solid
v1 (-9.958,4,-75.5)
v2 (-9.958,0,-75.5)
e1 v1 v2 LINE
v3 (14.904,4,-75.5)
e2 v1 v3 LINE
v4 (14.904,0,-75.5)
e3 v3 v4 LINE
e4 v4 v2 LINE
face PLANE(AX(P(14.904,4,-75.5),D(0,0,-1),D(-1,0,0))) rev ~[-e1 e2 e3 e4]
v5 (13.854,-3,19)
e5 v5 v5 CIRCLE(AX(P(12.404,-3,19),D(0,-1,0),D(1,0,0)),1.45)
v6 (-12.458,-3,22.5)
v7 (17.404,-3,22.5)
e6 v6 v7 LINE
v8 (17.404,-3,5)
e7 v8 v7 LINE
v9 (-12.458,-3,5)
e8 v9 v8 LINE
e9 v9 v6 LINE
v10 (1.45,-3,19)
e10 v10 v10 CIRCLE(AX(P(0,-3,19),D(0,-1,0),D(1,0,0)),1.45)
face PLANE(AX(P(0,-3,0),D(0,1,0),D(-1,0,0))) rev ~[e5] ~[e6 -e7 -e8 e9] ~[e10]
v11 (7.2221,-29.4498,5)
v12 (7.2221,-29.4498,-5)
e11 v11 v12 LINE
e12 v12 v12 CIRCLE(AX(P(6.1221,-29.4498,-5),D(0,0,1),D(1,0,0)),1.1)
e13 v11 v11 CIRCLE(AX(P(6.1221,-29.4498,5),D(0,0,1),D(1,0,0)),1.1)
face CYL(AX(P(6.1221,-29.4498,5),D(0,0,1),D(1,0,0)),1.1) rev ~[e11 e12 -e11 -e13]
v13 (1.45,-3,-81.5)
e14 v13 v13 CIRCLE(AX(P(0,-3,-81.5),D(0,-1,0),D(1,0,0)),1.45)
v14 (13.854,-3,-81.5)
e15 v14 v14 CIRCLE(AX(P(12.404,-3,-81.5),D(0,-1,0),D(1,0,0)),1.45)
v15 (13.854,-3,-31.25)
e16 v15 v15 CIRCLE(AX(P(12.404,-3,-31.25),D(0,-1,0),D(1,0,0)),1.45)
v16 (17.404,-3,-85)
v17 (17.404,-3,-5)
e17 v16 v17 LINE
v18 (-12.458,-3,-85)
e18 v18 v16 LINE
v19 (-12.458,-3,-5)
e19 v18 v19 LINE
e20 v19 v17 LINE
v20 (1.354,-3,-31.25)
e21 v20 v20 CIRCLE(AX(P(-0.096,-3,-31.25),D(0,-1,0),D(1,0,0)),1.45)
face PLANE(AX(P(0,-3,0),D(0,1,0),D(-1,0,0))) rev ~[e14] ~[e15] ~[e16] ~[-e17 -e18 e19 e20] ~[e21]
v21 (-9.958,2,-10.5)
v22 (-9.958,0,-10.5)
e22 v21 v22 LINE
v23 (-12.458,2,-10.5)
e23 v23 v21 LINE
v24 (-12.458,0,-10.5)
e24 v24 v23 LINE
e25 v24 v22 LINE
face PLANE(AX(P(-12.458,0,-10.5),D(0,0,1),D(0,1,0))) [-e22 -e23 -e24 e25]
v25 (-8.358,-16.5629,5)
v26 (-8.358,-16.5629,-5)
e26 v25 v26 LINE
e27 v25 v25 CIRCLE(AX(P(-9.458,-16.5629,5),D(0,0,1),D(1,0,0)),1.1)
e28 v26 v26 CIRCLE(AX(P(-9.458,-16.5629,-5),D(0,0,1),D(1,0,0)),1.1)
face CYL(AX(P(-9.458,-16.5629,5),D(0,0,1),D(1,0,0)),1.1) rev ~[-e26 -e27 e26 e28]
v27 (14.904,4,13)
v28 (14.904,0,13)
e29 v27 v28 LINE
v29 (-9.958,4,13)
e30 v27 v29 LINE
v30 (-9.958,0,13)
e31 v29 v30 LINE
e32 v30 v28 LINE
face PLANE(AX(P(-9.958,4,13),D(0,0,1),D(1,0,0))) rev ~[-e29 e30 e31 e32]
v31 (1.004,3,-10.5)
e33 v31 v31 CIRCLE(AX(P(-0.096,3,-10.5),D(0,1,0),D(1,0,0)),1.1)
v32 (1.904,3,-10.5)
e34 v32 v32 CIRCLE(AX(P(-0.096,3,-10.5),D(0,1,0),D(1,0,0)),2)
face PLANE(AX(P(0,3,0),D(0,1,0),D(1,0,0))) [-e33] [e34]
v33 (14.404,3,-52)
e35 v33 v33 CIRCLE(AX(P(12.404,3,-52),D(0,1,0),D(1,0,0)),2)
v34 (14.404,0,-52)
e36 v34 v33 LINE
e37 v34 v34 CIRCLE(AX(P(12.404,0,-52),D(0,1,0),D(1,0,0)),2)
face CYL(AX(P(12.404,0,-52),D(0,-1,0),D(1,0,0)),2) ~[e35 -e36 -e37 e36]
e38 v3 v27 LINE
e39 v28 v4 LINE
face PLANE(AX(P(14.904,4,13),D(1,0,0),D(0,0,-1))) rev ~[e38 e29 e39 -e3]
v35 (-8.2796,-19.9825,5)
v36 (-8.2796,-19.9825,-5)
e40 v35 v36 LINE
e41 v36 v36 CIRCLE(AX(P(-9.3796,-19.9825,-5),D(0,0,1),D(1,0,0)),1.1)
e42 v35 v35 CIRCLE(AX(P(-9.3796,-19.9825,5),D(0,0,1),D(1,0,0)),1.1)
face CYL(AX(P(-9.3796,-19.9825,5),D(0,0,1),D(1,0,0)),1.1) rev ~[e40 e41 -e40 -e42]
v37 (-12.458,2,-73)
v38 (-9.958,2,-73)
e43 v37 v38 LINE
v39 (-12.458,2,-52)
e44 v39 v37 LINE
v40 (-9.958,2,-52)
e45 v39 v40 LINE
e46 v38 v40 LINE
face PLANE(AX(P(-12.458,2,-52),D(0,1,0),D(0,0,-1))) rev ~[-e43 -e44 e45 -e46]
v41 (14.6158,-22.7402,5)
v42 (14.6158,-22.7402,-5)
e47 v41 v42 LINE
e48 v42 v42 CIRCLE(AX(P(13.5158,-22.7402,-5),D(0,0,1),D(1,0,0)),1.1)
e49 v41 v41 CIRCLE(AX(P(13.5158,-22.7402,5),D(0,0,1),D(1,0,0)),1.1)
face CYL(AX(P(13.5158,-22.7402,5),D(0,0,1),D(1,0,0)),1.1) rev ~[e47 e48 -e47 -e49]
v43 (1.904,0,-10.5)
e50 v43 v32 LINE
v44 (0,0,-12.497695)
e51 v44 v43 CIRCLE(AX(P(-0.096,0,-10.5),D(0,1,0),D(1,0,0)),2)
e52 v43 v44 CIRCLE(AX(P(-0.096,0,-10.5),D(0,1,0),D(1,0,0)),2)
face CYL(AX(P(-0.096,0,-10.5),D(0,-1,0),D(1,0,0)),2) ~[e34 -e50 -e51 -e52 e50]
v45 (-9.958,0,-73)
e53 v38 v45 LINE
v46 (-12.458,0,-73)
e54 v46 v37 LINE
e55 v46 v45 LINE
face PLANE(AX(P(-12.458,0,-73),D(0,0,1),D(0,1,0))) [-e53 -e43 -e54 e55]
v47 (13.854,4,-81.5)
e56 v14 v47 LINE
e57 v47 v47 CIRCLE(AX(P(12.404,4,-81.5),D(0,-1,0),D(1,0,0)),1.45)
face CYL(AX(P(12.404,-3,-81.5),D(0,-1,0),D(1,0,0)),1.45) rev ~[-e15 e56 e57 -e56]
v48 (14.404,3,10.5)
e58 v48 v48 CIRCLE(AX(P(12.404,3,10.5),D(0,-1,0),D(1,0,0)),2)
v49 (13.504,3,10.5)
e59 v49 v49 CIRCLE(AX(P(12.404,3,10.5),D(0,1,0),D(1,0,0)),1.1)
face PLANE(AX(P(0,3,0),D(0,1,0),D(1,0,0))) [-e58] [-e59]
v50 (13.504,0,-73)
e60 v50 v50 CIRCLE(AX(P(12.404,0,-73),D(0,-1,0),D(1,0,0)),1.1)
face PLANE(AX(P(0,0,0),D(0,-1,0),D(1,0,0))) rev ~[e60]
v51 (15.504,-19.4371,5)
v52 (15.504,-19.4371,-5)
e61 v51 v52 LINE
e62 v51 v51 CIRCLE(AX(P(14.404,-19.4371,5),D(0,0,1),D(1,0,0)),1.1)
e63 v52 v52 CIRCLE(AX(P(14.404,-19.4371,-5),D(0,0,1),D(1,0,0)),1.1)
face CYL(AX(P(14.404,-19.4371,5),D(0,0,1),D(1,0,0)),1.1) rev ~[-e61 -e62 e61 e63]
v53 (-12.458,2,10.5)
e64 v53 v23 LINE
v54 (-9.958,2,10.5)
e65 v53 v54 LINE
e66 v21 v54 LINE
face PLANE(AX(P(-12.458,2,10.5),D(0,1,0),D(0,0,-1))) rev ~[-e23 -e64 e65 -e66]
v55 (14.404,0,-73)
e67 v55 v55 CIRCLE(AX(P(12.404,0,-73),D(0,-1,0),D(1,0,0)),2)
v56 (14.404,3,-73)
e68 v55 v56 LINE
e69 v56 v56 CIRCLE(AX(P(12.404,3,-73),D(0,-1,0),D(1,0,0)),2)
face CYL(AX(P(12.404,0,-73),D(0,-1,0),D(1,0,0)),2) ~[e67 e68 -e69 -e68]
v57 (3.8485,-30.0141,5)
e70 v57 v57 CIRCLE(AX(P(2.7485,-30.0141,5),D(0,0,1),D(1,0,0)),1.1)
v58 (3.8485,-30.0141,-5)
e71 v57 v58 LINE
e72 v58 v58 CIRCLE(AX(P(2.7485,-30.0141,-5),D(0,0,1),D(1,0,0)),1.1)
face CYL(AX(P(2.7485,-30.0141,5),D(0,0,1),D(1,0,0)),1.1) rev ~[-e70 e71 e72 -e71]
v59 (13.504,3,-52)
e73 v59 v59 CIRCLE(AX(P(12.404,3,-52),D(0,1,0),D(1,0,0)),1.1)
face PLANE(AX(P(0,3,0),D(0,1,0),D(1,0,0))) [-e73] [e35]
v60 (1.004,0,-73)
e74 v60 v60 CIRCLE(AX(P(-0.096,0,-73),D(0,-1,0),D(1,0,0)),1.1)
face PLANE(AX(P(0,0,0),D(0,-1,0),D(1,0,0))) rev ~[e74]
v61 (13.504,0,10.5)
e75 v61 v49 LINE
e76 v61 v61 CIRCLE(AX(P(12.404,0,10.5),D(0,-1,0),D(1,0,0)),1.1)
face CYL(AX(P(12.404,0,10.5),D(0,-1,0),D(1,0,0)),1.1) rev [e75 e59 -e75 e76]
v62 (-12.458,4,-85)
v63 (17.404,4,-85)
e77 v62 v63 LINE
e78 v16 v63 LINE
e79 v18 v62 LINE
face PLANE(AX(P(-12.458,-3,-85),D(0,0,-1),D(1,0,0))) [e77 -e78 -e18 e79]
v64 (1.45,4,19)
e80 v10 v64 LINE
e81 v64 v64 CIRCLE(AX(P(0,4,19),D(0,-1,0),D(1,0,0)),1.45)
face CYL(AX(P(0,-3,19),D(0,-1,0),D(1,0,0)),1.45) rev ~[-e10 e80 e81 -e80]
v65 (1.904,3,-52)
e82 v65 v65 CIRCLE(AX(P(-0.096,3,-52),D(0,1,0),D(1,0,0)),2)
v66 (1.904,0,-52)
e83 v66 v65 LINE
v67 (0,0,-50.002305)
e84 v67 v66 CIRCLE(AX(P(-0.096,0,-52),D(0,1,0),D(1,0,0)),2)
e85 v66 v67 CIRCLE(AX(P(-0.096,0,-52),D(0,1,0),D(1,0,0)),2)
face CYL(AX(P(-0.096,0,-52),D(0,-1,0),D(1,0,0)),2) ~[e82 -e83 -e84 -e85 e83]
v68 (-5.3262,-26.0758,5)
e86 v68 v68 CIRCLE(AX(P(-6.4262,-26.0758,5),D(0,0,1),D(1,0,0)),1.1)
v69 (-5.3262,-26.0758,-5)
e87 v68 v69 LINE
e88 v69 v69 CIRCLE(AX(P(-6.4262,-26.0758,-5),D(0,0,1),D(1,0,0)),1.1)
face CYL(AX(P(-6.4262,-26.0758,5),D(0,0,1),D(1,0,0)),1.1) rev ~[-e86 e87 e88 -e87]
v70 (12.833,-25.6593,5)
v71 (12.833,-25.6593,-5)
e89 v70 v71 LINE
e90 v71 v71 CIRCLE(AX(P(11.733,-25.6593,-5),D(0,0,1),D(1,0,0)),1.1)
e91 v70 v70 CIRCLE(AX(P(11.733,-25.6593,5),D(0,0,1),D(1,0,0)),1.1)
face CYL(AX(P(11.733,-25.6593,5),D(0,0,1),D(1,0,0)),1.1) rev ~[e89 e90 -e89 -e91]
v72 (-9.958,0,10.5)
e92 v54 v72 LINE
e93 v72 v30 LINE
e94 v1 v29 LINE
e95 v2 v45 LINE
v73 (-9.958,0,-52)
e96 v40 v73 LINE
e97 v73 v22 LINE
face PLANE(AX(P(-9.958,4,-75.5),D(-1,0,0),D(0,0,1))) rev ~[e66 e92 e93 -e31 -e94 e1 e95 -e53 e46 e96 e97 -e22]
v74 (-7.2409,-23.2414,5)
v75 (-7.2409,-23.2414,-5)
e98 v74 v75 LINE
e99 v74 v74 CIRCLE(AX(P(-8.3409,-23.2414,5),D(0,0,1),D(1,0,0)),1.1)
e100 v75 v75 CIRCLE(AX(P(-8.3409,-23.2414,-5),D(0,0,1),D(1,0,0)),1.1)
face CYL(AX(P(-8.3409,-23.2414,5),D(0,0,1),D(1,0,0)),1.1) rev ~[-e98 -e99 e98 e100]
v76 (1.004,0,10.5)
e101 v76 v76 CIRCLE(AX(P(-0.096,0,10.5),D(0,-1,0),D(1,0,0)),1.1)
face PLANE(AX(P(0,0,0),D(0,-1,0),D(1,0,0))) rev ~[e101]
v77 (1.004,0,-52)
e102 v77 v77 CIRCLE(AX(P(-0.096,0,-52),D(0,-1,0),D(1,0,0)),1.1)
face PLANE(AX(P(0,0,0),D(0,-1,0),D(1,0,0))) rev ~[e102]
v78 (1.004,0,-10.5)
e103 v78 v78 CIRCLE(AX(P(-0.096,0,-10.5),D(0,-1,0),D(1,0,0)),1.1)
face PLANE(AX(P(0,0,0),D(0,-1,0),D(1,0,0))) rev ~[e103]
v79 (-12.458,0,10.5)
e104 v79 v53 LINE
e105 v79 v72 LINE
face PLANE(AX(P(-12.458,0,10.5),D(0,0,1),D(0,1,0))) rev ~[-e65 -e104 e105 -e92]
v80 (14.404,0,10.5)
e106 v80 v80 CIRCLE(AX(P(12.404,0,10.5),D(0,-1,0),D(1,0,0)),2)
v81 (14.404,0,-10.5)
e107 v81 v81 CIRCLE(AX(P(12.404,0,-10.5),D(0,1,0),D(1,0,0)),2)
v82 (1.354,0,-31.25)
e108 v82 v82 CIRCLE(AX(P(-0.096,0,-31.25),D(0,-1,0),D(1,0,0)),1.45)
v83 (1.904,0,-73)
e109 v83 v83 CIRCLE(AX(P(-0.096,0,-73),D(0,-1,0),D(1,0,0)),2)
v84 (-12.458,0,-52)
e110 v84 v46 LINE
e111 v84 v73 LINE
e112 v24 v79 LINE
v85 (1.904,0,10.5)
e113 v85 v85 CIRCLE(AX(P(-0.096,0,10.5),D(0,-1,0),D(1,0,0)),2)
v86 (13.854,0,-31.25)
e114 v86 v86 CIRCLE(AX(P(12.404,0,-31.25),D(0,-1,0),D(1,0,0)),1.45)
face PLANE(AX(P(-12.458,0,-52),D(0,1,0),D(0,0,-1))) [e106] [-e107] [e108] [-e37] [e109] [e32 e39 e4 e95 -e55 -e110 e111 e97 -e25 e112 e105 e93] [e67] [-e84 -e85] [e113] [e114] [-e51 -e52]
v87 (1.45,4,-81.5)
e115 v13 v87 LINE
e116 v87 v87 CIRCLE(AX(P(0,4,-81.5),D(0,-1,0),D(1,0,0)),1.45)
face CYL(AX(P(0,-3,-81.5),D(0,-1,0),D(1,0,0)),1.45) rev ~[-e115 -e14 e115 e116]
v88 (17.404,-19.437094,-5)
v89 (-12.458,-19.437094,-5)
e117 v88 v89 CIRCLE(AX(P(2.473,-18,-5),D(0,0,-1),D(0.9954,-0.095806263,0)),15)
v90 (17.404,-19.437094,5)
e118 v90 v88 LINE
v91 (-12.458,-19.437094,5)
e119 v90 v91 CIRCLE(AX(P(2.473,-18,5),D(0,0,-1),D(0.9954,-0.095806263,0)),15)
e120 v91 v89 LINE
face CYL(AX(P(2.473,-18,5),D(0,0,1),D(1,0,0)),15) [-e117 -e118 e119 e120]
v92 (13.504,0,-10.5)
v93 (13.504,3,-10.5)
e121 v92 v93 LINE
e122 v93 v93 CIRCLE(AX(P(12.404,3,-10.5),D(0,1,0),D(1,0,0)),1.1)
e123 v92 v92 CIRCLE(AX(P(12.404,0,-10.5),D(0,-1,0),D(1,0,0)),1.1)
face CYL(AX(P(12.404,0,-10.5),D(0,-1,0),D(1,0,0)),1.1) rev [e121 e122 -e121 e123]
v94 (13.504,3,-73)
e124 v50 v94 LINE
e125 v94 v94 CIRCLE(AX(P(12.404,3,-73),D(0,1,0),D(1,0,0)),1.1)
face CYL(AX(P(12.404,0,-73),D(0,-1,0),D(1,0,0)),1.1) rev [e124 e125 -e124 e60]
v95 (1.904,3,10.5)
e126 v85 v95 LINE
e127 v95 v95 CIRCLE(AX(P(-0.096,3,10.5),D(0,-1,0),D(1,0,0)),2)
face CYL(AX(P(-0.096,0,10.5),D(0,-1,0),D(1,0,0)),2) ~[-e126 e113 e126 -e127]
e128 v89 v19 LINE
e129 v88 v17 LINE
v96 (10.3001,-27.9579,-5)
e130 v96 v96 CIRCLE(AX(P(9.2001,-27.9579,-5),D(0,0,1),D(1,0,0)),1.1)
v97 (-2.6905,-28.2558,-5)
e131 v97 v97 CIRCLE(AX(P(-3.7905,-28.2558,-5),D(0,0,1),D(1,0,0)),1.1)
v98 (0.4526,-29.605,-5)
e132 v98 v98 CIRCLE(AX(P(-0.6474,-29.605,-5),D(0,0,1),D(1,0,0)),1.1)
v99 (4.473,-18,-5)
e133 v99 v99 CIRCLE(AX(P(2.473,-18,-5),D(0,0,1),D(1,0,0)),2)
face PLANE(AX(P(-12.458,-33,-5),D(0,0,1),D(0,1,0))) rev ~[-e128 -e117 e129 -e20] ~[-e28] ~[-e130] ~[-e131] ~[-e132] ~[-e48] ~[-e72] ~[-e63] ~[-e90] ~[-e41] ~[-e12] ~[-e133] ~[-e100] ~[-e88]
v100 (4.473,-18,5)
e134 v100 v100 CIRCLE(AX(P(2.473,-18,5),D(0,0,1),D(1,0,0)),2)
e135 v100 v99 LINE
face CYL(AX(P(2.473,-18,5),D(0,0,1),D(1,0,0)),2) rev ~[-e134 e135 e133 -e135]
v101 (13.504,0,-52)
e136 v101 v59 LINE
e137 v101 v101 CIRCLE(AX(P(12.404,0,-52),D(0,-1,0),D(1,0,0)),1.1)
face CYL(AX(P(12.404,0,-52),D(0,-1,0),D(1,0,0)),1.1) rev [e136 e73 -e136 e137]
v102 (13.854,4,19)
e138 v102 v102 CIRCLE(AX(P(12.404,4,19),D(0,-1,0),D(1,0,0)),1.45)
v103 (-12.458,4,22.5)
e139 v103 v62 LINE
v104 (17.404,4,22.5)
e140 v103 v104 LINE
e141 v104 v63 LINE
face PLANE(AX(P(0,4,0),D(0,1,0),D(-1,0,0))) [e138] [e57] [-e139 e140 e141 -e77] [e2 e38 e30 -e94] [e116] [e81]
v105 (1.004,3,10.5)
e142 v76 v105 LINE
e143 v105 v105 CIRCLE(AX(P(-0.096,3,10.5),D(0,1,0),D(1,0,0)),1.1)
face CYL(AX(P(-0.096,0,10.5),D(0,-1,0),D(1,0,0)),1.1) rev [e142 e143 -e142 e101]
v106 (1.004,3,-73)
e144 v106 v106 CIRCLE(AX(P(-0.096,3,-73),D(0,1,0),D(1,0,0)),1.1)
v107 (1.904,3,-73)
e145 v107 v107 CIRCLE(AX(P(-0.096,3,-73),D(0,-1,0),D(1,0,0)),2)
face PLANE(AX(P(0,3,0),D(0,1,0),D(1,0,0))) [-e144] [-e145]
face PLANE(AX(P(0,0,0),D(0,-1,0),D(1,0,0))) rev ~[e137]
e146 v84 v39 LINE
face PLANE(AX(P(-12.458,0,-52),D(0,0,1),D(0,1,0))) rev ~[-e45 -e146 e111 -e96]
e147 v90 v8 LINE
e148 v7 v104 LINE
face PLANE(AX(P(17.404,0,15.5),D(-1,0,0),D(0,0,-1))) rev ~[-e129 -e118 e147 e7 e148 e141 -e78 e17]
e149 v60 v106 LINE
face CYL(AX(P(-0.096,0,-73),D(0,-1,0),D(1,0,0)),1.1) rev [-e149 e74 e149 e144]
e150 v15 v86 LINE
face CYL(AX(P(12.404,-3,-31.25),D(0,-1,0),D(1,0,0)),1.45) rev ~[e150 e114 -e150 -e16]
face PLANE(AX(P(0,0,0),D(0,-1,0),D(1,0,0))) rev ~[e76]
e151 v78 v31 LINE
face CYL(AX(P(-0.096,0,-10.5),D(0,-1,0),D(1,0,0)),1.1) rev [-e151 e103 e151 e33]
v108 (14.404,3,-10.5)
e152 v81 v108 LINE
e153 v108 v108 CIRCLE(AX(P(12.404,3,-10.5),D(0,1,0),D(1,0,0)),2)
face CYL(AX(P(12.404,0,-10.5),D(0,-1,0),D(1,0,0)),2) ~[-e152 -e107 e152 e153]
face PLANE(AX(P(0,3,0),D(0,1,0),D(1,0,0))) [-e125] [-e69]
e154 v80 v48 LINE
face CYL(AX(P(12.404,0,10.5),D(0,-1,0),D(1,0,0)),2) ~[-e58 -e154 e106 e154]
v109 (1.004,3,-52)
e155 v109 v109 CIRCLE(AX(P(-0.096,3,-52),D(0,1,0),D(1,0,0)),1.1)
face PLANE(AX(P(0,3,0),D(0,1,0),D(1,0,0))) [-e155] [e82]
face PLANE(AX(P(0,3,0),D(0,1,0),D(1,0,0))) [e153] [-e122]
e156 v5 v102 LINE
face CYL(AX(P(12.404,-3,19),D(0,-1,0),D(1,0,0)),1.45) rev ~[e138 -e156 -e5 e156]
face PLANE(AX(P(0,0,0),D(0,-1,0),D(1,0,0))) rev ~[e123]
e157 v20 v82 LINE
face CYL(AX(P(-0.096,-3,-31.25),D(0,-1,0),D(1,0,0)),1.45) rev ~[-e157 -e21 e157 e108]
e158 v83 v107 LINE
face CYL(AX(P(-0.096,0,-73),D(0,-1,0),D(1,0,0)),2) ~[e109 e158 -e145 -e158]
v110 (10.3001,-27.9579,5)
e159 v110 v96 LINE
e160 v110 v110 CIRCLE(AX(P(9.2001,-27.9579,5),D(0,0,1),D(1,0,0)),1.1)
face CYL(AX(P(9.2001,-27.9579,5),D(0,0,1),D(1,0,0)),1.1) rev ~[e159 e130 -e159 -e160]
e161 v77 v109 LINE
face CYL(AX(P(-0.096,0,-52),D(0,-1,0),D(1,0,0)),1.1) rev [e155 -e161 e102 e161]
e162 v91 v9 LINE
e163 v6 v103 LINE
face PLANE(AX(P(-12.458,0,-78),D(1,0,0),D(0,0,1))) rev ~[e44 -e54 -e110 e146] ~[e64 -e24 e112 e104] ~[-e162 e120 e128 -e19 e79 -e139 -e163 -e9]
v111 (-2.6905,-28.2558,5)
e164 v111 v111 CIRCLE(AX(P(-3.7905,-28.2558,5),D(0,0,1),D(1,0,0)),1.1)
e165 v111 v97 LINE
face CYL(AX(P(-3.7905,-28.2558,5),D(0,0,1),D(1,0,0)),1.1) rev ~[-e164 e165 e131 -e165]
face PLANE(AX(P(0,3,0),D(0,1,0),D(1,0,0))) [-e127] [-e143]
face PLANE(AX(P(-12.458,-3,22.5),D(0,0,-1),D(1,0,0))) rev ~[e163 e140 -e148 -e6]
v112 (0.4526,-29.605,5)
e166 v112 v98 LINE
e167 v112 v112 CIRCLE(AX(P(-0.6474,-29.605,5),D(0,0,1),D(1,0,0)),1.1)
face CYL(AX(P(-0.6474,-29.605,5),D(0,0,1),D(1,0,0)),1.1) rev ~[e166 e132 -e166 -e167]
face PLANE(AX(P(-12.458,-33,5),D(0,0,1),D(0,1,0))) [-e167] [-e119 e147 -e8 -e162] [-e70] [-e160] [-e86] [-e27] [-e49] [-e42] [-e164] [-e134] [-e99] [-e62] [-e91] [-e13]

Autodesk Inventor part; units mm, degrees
ref_plane "YZ Plane" through (0, 0, 0) normal (1, 0, 0) x (0, 1, 0)
ref_plane "XZ Plane" through (0, 0, 0) normal (0, 1, 0) x (-1, 0, 0)
ref_plane "XY Plane" through (0, 0, 0) normal (0, 0, 1) x (1, 0, 0)
sketch "Sketch1" plane through (0, 0, 0) normal (0, 1, 0) x (-1, 0, 0)
  line L0 (0, 0) -> (0, -62.5)
  line L1 (9.458, 0) -> (9.458, 12.5)
  line L2 (9.458, 12.5) -> (9.458, -12.5)
  line L3 (9.458, 12.5) -> (-14.404, 12.5)
  line L4 (-14.404, 12.5) -> (-14.404, -12.5)
  line L5 (-14.404, -12.5) -> (9.458, -12.5)
  line L6 (-14.404, 12.5) -> (-12.404, 12.5)
  line L7 (-14.404, -12.5) -> (-12.404, -12.5)
  circle A0 centre (0.096, 10.5) radius 1.1
  circle A1 centre (-12.404, 10.5) radius 1.1
  circle A2 centre (-12.404, -10.5) radius 1.1
  circle A3 centre (0.096, -10.5) radius 1.1
  line L8 (9.458, -62.5) -> (9.458, -50)
  line L9 (9.458, -50) -> (9.458, -75)
  line L10 (9.458, -50) -> (-14.404, -50)
  line L11 (-14.404, -50) -> (-14.404, -75)
  line L12 (-14.404, -75) -> (9.458, -75)
  line L13 (-14.404, -50) -> (-12.404, -50)
  line L14 (-14.404, -75) -> (-12.404, -75)
  circle A4 centre (0.096, -52) radius 1.1
  circle A5 centre (-12.404, -52) radius 1.1
  circle A6 centre (-12.404, -73) radius 1.1
  circle A7 centre (0.096, -73) radius 1.1
  line L15 (12.458, 15.5) -> (-17.404, 15.5)
  line L16 (-17.404, 15.5) -> (-17.404, -78)
  line L17 (-17.404, -78) -> (12.458, -78)
  line L18 (12.458, -78) -> (12.458, 15.5)
  line L19 (-14.404, -12.5) -> (-14.404, -50)
  line L20 (9.458, -50) -> (9.458, -12.5)
extrude "Extrusion1" add sketch "Sketch1" against normal blind 3 contours L5 L4 L3 L1 L2 | L5 L20 L10 L0 | L0 L10 L19 L5 | L10 L8 L9 L12 L11 | L18 L17 L16 L15
sketch "Sketch2" plane through (0, 0, 0) normal (0, 1, 0) x (1, 0, 0)
  circle A0 centre (-0.096, -10.5) radius 1.1 projected
  circle A1 centre (-0.096, -10.5) radius 2
  circle A2 centre (12.404, -10.5) radius 1.1 projected
  circle A3 centre (12.404, -10.5) radius 2
  circle A4 centre (12.404, 10.5) radius 1.1 projected
  circle A5 centre (12.404, 10.5) radius 2
  circle A6 centre (-0.096, 10.5) radius 2
  circle A7 centre (-0.096, 52) radius 1.1 projected
  circle A8 centre (-0.096, 52) radius 2
  circle A9 centre (-0.096, 73) radius 1.1 projected
  circle A10 centre (-0.096, 73) radius 2
  circle A11 centre (12.404, 73) radius 1.1 projected
  circle A12 centre (12.404, 73) radius 2
  circle A13 centre (12.404, 52) radius 1.1 projected
  circle A14 centre (12.404, 52) radius 2
  circle A15 centre (-0.096, 73) radius 1.1
  circle A16 centre (12.404, 73) radius 1.1
  circle A17 centre (12.404, 52) radius 1.1
  circle A18 centre (-0.096, 52) radius 1.1
  circle A19 centre (-0.096, 10.5) radius 1.1
  circle A20 centre (12.404, 10.5) radius 1.1
  circle A21 centre (12.404, -10.5) radius 1.1
  circle A22 centre (-0.096, -10.5) radius 1.1
  circle A23 centre (-0.096, 10.5) radius 1.1
  point P0 (0, 0)
  dimension "d21" = 4
  dimension "d22" = 4
  dimension "d23" = 4
  dimension "d24" = 4
  dimension "d25" = 4
  dimension "d26" = 4
  dimension "d27" = 4
  dimension "d28" = 4
extrude "Extrusion2" add sketch "Sketch2" along normal blind 3
extrude "Extrusion3" add sketch "Sketch1" along normal blind 4 contours L18 L17 L16 L15
sketch "Sketch3" plane through (-12.458, -3, -78) normal (-1, 0, 0) x (0, 0, 1)
  line L0 (89.6, 0) -> (87.4, 0) projected
  line L1 (68.6, 0) -> (66.4, 0) projected
  line L2 (27.1, 0) -> (24.9, 0) projected
  line L3 (6.1, 0) -> (3.9, 0) projected
  line L4 (88.5, 0) -> (88.5, 3)
  line L5 (88.5, 3) -> (88.5, 5)
  line L6 (88.5, 3) -> (88.5, 6) projected
  line L7 (88.5, 5) -> (67.5, 5)
  line L8 (67.5, 3) -> (67.5, 6) projected
  line L9 (67.5, 5) -> (67.5, 3)
  line L10 (67.5, 3) -> (88.5, 3)
  line L11 (27.1, 0) -> (24.9, 0) projected
  line L12 (26, 0) -> (26, 5)
  line L13 (26, 5) -> (5, 5)
  line L14 (5, 3) -> (5, 6) projected
  line L15 (5, 5) -> (5, 3)
  line L16 (26, 3) -> (5, 3) projected
  line L17 (5, 3) -> (26, 3)
  dimension "d33" = 2
  dimension "d34" = 5
extrude "Extrusion4" cut sketch "Sketch3" against normal up to surface (3 mm away)
sketch "Sketch4" plane through (-12.458, -3, -78) normal (-1, 0, 0) x (0, 0, 1)
  line L0 (0, 0) -> (93.5, 0) projected
  line L1 (78, 0) -> (78, -30)
  line L2 (78, -30) -> (83, -30)
  line L3 (83, -30) -> (73, -30)
  line L4 (73, -30) -> (73, 0)
  line L5 (83, -30) -> (83, 0)
  line L6 (73, 0) -> (83, 0)
  line L7 (78, 3) -> (78, -30)
  point P0 (78, -30)
  point P1 (83, 0)
  point P2 (73, 0)
  dimension "d37" = 30
  dimension "d38" = 5
  dimension "d39" = 10
extrude "Extrusion5" add sketch "Sketch4" against normal up to surface (29.862 mm away)
sketch "Sketch5" plane through (-12.458, -33, 5) normal (0, 0, 1) x (1, 0, 0)
  line L0 (0, 0) -> (29.862, 0) projected
  line L1 (0, 30) -> (0, 0) projected
  circle A0 centre (14.931, 15) radius 15
  line L2 (29.862, 30) -> (29.862, 0) projected
  line L3 (29.862, 0) -> (29.862, 15)
  point P0 (12.458, 33)
  point P1 (29.862, 13.5629)
  point P2 (14.931, 0)
  point P3 (0, 13.5629)
extrude "Extrusion6" cut sketch "Sketch5" against normal up to surface (10 mm away) contours L1 A0 L0 | A0 L2 L0
sketch "Sketch6" plane through (-12.458, -3, 5) normal (0, 0, 1) x (1, 0, 0)
  line L0 (29.862, -30) -> (29.862, 0) projected
  line L1 (29.862, -16.4371) -> (26.862, -16.4371)
  circle A0 centre (26.862, -16.4371) radius 1.1
  arc A1 (0, -16.4371) -> (29.862, -16.4371) centre (14.931, -15) ccw projected
  circle A2 centre (14.931, -15) radius 4.093
  circle A3 centre (25.9738, -19.7402) radius 1.1
  circle A4 centre (24.191, -22.6593) radius 1.1
  circle A5 centre (21.6581, -24.9579) radius 1.1
  circle A6 centre (18.5801, -26.4498) radius 1.1
  circle A7 centre (15.2065, -27.0141) radius 1.1
  circle A8 centre (11.8106, -26.605) radius 1.1
  circle A9 centre (8.6675, -25.2558) radius 1.1
  circle A10 centre (6.0318, -23.0758) radius 1.1
  circle A11 centre (4.1171, -20.2414) radius 1.1
  circle A12 centre (3.0784, -16.9825) radius 1.1
  circle A13 centre (3, -13.5629) radius 1.1
  point P0 (12.458, 3)
  dimension "d46" = 3
  dimension "d47" = 2.2
  dimension "d50" = 180
extrude "Extrusion7" cut sketch "Sketch6" against normal up to surface (10 mm away) contours A0 | A3 | A4 | A5 | A6 | A7 | A8 | A9 | A10 | A11 | A12 | A13
sketch "Sketch7" plane through (-12.458, -3, 5) normal (0, 0, 1) x (1, 0, 0)
  arc A0 (0, -16.4371) -> (29.862, -16.4371) centre (14.931, -15) ccw projected
  circle A1 centre (14.931, -15) radius 2
  point P0 (12.458, 3)
  dimension "d54" = 4
extrude "Extrusion8" cut sketch "Sketch7" against normal up to surface (10 mm away)
sketch "Sketch8" plane through (0, 4, 0) normal (0, 1, 0) x (1, 0, 0)
  line L0 (17.404, -15.5) -> (17.404, 78) projected
  line L1 (17.404, 78) -> (-12.458, 78) projected
  line L2 (-12.458, 78) -> (-12.458, -15.5) projected
  line L3 (-12.458, -15.5) -> (17.404, -15.5) projected
  line L4 (14.404, 75) -> (14.404, -12.5) projected
  line L5 (14.404, -12.5) -> (-9.458, -12.5) projected
  line L6 (-9.458, -12.5) -> (-9.458, 75) projected
  line L7 (-9.458, 75) -> (14.404, 75) projected
  line L8 (-9.458, -13) -> (14.404, -13)
  line L9 (14.404, -13) -> (14.904, -13)
  line L10 (14.904, -13) -> (14.904, 75)
  line L11 (14.904, 75) -> (14.904, 75.5)
  line L12 (14.904, 75.5) -> (-9.458, 75.5)
  line L13 (-9.458, 75.5) -> (-9.958, 75.5)
  line L14 (-9.958, 75.5) -> (-9.958, -13)
  line L15 (-12.458, 78) -> (-12.458, -15.5) projected
  line L16 (-9.958, -13) -> (-9.458, -13)
  point P0 (0, 0)
  dimension "d57" = 0.5
  dimension "d58" = 0.5
  dimension "d59" = 0.5
  dimension "d60" = 0.5
extrude "Extrusion9" cut sketch "Sketch8" against normal up to surface (4 mm away) contours L16 L14 L13 L12 L11 L10 L9 L8
sketch "Sketch9" plane through (0, -3, 0) normal (0, -1, 0) x (1, 0, 0)
  circle A0 centre (12.404, -31.25) radius 1.45 projected
  circle A1 centre (-0.096, -31.25) radius 1.45 projected
  arc A2 (14.904, -29.5917) -> (14.904, -32.9083) centre (12.404, -31.25) ccw projected
  circle A3 centre (-0.096, -31.25) radius 3 projected
  point P0 (0, 0)
extrude "Extrusion10" cut sketch "Sketch9" against normal up to surface (7 mm away) contours A0 | A1
sketch "Sketch10" plane through (0, -3, 0) normal (0, -1, 0) x (1, 0, 0)
  circle A0 centre (12.404, 10.5) radius 1.1 projected
  circle A1 centre (-0.096, 10.5) radius 1.1 projected
  circle A2 centre (12.404, -10.5) radius 1.1 projected
  circle A3 centre (-0.096, -10.5) radius 1.1 projected
  circle A4 centre (-0.096, -52) radius 1.1 projected
  circle A5 centre (12.404, -52) radius 1.1 projected
  circle A6 centre (12.404, -73) radius 1.1 projected
  circle A7 centre (-0.096, -73) radius 1.1 projected
  point P0 (0, 0)
extrude "Extrusion11" add sketch "Sketch10" against normal blind 3
sketch "Sketch11" plane through (0, -3, 0) normal (0, -1, 0) x (1, 0, 0)
  line L0 (17.404, -78) -> (-12.458, -78) projected
  line L1 (-12.458, -78) -> (-12.458, -85)
  line L2 (-12.458, -85) -> (17.404, -85)
  line L3 (17.404, -85) -> (17.404, -78)
  circle A0 centre (12.404, -81.5) radius 1.45
  circle A1 centre (0, -81.5) radius 1.45
  line L4 (-12.458, 15.5) -> (17.404, 15.5) projected
  line L5 (-12.458, 15.5) -> (-12.458, 22.5)
  line L6 (-12.458, 22.5) -> (17.404, 22.5)
  line L7 (17.404, 22.5) -> (17.404, 15.5)
  line L8 (17.404, 15.5) -> (-12.458, 15.5)
  line L9 (-12.458, -78) -> (17.404, -78)
  circle A2 centre (12.404, 19) radius 1.45
  circle A3 centre (0, 19) radius 1.45
  point P0 (0, 0)
  dimension "d67" = 7
  dimension "d69" = 2.9
  dimension "d70" = 2.9
  dimension "d71" = 7
  dimension "d72" = 2.9
  dimension "d73" = 2.9
extrude "Extrusion12" add sketch "Sketch11" against normal up to surface (7 mm away)
properties part number "pi_cam_stereo_board"
